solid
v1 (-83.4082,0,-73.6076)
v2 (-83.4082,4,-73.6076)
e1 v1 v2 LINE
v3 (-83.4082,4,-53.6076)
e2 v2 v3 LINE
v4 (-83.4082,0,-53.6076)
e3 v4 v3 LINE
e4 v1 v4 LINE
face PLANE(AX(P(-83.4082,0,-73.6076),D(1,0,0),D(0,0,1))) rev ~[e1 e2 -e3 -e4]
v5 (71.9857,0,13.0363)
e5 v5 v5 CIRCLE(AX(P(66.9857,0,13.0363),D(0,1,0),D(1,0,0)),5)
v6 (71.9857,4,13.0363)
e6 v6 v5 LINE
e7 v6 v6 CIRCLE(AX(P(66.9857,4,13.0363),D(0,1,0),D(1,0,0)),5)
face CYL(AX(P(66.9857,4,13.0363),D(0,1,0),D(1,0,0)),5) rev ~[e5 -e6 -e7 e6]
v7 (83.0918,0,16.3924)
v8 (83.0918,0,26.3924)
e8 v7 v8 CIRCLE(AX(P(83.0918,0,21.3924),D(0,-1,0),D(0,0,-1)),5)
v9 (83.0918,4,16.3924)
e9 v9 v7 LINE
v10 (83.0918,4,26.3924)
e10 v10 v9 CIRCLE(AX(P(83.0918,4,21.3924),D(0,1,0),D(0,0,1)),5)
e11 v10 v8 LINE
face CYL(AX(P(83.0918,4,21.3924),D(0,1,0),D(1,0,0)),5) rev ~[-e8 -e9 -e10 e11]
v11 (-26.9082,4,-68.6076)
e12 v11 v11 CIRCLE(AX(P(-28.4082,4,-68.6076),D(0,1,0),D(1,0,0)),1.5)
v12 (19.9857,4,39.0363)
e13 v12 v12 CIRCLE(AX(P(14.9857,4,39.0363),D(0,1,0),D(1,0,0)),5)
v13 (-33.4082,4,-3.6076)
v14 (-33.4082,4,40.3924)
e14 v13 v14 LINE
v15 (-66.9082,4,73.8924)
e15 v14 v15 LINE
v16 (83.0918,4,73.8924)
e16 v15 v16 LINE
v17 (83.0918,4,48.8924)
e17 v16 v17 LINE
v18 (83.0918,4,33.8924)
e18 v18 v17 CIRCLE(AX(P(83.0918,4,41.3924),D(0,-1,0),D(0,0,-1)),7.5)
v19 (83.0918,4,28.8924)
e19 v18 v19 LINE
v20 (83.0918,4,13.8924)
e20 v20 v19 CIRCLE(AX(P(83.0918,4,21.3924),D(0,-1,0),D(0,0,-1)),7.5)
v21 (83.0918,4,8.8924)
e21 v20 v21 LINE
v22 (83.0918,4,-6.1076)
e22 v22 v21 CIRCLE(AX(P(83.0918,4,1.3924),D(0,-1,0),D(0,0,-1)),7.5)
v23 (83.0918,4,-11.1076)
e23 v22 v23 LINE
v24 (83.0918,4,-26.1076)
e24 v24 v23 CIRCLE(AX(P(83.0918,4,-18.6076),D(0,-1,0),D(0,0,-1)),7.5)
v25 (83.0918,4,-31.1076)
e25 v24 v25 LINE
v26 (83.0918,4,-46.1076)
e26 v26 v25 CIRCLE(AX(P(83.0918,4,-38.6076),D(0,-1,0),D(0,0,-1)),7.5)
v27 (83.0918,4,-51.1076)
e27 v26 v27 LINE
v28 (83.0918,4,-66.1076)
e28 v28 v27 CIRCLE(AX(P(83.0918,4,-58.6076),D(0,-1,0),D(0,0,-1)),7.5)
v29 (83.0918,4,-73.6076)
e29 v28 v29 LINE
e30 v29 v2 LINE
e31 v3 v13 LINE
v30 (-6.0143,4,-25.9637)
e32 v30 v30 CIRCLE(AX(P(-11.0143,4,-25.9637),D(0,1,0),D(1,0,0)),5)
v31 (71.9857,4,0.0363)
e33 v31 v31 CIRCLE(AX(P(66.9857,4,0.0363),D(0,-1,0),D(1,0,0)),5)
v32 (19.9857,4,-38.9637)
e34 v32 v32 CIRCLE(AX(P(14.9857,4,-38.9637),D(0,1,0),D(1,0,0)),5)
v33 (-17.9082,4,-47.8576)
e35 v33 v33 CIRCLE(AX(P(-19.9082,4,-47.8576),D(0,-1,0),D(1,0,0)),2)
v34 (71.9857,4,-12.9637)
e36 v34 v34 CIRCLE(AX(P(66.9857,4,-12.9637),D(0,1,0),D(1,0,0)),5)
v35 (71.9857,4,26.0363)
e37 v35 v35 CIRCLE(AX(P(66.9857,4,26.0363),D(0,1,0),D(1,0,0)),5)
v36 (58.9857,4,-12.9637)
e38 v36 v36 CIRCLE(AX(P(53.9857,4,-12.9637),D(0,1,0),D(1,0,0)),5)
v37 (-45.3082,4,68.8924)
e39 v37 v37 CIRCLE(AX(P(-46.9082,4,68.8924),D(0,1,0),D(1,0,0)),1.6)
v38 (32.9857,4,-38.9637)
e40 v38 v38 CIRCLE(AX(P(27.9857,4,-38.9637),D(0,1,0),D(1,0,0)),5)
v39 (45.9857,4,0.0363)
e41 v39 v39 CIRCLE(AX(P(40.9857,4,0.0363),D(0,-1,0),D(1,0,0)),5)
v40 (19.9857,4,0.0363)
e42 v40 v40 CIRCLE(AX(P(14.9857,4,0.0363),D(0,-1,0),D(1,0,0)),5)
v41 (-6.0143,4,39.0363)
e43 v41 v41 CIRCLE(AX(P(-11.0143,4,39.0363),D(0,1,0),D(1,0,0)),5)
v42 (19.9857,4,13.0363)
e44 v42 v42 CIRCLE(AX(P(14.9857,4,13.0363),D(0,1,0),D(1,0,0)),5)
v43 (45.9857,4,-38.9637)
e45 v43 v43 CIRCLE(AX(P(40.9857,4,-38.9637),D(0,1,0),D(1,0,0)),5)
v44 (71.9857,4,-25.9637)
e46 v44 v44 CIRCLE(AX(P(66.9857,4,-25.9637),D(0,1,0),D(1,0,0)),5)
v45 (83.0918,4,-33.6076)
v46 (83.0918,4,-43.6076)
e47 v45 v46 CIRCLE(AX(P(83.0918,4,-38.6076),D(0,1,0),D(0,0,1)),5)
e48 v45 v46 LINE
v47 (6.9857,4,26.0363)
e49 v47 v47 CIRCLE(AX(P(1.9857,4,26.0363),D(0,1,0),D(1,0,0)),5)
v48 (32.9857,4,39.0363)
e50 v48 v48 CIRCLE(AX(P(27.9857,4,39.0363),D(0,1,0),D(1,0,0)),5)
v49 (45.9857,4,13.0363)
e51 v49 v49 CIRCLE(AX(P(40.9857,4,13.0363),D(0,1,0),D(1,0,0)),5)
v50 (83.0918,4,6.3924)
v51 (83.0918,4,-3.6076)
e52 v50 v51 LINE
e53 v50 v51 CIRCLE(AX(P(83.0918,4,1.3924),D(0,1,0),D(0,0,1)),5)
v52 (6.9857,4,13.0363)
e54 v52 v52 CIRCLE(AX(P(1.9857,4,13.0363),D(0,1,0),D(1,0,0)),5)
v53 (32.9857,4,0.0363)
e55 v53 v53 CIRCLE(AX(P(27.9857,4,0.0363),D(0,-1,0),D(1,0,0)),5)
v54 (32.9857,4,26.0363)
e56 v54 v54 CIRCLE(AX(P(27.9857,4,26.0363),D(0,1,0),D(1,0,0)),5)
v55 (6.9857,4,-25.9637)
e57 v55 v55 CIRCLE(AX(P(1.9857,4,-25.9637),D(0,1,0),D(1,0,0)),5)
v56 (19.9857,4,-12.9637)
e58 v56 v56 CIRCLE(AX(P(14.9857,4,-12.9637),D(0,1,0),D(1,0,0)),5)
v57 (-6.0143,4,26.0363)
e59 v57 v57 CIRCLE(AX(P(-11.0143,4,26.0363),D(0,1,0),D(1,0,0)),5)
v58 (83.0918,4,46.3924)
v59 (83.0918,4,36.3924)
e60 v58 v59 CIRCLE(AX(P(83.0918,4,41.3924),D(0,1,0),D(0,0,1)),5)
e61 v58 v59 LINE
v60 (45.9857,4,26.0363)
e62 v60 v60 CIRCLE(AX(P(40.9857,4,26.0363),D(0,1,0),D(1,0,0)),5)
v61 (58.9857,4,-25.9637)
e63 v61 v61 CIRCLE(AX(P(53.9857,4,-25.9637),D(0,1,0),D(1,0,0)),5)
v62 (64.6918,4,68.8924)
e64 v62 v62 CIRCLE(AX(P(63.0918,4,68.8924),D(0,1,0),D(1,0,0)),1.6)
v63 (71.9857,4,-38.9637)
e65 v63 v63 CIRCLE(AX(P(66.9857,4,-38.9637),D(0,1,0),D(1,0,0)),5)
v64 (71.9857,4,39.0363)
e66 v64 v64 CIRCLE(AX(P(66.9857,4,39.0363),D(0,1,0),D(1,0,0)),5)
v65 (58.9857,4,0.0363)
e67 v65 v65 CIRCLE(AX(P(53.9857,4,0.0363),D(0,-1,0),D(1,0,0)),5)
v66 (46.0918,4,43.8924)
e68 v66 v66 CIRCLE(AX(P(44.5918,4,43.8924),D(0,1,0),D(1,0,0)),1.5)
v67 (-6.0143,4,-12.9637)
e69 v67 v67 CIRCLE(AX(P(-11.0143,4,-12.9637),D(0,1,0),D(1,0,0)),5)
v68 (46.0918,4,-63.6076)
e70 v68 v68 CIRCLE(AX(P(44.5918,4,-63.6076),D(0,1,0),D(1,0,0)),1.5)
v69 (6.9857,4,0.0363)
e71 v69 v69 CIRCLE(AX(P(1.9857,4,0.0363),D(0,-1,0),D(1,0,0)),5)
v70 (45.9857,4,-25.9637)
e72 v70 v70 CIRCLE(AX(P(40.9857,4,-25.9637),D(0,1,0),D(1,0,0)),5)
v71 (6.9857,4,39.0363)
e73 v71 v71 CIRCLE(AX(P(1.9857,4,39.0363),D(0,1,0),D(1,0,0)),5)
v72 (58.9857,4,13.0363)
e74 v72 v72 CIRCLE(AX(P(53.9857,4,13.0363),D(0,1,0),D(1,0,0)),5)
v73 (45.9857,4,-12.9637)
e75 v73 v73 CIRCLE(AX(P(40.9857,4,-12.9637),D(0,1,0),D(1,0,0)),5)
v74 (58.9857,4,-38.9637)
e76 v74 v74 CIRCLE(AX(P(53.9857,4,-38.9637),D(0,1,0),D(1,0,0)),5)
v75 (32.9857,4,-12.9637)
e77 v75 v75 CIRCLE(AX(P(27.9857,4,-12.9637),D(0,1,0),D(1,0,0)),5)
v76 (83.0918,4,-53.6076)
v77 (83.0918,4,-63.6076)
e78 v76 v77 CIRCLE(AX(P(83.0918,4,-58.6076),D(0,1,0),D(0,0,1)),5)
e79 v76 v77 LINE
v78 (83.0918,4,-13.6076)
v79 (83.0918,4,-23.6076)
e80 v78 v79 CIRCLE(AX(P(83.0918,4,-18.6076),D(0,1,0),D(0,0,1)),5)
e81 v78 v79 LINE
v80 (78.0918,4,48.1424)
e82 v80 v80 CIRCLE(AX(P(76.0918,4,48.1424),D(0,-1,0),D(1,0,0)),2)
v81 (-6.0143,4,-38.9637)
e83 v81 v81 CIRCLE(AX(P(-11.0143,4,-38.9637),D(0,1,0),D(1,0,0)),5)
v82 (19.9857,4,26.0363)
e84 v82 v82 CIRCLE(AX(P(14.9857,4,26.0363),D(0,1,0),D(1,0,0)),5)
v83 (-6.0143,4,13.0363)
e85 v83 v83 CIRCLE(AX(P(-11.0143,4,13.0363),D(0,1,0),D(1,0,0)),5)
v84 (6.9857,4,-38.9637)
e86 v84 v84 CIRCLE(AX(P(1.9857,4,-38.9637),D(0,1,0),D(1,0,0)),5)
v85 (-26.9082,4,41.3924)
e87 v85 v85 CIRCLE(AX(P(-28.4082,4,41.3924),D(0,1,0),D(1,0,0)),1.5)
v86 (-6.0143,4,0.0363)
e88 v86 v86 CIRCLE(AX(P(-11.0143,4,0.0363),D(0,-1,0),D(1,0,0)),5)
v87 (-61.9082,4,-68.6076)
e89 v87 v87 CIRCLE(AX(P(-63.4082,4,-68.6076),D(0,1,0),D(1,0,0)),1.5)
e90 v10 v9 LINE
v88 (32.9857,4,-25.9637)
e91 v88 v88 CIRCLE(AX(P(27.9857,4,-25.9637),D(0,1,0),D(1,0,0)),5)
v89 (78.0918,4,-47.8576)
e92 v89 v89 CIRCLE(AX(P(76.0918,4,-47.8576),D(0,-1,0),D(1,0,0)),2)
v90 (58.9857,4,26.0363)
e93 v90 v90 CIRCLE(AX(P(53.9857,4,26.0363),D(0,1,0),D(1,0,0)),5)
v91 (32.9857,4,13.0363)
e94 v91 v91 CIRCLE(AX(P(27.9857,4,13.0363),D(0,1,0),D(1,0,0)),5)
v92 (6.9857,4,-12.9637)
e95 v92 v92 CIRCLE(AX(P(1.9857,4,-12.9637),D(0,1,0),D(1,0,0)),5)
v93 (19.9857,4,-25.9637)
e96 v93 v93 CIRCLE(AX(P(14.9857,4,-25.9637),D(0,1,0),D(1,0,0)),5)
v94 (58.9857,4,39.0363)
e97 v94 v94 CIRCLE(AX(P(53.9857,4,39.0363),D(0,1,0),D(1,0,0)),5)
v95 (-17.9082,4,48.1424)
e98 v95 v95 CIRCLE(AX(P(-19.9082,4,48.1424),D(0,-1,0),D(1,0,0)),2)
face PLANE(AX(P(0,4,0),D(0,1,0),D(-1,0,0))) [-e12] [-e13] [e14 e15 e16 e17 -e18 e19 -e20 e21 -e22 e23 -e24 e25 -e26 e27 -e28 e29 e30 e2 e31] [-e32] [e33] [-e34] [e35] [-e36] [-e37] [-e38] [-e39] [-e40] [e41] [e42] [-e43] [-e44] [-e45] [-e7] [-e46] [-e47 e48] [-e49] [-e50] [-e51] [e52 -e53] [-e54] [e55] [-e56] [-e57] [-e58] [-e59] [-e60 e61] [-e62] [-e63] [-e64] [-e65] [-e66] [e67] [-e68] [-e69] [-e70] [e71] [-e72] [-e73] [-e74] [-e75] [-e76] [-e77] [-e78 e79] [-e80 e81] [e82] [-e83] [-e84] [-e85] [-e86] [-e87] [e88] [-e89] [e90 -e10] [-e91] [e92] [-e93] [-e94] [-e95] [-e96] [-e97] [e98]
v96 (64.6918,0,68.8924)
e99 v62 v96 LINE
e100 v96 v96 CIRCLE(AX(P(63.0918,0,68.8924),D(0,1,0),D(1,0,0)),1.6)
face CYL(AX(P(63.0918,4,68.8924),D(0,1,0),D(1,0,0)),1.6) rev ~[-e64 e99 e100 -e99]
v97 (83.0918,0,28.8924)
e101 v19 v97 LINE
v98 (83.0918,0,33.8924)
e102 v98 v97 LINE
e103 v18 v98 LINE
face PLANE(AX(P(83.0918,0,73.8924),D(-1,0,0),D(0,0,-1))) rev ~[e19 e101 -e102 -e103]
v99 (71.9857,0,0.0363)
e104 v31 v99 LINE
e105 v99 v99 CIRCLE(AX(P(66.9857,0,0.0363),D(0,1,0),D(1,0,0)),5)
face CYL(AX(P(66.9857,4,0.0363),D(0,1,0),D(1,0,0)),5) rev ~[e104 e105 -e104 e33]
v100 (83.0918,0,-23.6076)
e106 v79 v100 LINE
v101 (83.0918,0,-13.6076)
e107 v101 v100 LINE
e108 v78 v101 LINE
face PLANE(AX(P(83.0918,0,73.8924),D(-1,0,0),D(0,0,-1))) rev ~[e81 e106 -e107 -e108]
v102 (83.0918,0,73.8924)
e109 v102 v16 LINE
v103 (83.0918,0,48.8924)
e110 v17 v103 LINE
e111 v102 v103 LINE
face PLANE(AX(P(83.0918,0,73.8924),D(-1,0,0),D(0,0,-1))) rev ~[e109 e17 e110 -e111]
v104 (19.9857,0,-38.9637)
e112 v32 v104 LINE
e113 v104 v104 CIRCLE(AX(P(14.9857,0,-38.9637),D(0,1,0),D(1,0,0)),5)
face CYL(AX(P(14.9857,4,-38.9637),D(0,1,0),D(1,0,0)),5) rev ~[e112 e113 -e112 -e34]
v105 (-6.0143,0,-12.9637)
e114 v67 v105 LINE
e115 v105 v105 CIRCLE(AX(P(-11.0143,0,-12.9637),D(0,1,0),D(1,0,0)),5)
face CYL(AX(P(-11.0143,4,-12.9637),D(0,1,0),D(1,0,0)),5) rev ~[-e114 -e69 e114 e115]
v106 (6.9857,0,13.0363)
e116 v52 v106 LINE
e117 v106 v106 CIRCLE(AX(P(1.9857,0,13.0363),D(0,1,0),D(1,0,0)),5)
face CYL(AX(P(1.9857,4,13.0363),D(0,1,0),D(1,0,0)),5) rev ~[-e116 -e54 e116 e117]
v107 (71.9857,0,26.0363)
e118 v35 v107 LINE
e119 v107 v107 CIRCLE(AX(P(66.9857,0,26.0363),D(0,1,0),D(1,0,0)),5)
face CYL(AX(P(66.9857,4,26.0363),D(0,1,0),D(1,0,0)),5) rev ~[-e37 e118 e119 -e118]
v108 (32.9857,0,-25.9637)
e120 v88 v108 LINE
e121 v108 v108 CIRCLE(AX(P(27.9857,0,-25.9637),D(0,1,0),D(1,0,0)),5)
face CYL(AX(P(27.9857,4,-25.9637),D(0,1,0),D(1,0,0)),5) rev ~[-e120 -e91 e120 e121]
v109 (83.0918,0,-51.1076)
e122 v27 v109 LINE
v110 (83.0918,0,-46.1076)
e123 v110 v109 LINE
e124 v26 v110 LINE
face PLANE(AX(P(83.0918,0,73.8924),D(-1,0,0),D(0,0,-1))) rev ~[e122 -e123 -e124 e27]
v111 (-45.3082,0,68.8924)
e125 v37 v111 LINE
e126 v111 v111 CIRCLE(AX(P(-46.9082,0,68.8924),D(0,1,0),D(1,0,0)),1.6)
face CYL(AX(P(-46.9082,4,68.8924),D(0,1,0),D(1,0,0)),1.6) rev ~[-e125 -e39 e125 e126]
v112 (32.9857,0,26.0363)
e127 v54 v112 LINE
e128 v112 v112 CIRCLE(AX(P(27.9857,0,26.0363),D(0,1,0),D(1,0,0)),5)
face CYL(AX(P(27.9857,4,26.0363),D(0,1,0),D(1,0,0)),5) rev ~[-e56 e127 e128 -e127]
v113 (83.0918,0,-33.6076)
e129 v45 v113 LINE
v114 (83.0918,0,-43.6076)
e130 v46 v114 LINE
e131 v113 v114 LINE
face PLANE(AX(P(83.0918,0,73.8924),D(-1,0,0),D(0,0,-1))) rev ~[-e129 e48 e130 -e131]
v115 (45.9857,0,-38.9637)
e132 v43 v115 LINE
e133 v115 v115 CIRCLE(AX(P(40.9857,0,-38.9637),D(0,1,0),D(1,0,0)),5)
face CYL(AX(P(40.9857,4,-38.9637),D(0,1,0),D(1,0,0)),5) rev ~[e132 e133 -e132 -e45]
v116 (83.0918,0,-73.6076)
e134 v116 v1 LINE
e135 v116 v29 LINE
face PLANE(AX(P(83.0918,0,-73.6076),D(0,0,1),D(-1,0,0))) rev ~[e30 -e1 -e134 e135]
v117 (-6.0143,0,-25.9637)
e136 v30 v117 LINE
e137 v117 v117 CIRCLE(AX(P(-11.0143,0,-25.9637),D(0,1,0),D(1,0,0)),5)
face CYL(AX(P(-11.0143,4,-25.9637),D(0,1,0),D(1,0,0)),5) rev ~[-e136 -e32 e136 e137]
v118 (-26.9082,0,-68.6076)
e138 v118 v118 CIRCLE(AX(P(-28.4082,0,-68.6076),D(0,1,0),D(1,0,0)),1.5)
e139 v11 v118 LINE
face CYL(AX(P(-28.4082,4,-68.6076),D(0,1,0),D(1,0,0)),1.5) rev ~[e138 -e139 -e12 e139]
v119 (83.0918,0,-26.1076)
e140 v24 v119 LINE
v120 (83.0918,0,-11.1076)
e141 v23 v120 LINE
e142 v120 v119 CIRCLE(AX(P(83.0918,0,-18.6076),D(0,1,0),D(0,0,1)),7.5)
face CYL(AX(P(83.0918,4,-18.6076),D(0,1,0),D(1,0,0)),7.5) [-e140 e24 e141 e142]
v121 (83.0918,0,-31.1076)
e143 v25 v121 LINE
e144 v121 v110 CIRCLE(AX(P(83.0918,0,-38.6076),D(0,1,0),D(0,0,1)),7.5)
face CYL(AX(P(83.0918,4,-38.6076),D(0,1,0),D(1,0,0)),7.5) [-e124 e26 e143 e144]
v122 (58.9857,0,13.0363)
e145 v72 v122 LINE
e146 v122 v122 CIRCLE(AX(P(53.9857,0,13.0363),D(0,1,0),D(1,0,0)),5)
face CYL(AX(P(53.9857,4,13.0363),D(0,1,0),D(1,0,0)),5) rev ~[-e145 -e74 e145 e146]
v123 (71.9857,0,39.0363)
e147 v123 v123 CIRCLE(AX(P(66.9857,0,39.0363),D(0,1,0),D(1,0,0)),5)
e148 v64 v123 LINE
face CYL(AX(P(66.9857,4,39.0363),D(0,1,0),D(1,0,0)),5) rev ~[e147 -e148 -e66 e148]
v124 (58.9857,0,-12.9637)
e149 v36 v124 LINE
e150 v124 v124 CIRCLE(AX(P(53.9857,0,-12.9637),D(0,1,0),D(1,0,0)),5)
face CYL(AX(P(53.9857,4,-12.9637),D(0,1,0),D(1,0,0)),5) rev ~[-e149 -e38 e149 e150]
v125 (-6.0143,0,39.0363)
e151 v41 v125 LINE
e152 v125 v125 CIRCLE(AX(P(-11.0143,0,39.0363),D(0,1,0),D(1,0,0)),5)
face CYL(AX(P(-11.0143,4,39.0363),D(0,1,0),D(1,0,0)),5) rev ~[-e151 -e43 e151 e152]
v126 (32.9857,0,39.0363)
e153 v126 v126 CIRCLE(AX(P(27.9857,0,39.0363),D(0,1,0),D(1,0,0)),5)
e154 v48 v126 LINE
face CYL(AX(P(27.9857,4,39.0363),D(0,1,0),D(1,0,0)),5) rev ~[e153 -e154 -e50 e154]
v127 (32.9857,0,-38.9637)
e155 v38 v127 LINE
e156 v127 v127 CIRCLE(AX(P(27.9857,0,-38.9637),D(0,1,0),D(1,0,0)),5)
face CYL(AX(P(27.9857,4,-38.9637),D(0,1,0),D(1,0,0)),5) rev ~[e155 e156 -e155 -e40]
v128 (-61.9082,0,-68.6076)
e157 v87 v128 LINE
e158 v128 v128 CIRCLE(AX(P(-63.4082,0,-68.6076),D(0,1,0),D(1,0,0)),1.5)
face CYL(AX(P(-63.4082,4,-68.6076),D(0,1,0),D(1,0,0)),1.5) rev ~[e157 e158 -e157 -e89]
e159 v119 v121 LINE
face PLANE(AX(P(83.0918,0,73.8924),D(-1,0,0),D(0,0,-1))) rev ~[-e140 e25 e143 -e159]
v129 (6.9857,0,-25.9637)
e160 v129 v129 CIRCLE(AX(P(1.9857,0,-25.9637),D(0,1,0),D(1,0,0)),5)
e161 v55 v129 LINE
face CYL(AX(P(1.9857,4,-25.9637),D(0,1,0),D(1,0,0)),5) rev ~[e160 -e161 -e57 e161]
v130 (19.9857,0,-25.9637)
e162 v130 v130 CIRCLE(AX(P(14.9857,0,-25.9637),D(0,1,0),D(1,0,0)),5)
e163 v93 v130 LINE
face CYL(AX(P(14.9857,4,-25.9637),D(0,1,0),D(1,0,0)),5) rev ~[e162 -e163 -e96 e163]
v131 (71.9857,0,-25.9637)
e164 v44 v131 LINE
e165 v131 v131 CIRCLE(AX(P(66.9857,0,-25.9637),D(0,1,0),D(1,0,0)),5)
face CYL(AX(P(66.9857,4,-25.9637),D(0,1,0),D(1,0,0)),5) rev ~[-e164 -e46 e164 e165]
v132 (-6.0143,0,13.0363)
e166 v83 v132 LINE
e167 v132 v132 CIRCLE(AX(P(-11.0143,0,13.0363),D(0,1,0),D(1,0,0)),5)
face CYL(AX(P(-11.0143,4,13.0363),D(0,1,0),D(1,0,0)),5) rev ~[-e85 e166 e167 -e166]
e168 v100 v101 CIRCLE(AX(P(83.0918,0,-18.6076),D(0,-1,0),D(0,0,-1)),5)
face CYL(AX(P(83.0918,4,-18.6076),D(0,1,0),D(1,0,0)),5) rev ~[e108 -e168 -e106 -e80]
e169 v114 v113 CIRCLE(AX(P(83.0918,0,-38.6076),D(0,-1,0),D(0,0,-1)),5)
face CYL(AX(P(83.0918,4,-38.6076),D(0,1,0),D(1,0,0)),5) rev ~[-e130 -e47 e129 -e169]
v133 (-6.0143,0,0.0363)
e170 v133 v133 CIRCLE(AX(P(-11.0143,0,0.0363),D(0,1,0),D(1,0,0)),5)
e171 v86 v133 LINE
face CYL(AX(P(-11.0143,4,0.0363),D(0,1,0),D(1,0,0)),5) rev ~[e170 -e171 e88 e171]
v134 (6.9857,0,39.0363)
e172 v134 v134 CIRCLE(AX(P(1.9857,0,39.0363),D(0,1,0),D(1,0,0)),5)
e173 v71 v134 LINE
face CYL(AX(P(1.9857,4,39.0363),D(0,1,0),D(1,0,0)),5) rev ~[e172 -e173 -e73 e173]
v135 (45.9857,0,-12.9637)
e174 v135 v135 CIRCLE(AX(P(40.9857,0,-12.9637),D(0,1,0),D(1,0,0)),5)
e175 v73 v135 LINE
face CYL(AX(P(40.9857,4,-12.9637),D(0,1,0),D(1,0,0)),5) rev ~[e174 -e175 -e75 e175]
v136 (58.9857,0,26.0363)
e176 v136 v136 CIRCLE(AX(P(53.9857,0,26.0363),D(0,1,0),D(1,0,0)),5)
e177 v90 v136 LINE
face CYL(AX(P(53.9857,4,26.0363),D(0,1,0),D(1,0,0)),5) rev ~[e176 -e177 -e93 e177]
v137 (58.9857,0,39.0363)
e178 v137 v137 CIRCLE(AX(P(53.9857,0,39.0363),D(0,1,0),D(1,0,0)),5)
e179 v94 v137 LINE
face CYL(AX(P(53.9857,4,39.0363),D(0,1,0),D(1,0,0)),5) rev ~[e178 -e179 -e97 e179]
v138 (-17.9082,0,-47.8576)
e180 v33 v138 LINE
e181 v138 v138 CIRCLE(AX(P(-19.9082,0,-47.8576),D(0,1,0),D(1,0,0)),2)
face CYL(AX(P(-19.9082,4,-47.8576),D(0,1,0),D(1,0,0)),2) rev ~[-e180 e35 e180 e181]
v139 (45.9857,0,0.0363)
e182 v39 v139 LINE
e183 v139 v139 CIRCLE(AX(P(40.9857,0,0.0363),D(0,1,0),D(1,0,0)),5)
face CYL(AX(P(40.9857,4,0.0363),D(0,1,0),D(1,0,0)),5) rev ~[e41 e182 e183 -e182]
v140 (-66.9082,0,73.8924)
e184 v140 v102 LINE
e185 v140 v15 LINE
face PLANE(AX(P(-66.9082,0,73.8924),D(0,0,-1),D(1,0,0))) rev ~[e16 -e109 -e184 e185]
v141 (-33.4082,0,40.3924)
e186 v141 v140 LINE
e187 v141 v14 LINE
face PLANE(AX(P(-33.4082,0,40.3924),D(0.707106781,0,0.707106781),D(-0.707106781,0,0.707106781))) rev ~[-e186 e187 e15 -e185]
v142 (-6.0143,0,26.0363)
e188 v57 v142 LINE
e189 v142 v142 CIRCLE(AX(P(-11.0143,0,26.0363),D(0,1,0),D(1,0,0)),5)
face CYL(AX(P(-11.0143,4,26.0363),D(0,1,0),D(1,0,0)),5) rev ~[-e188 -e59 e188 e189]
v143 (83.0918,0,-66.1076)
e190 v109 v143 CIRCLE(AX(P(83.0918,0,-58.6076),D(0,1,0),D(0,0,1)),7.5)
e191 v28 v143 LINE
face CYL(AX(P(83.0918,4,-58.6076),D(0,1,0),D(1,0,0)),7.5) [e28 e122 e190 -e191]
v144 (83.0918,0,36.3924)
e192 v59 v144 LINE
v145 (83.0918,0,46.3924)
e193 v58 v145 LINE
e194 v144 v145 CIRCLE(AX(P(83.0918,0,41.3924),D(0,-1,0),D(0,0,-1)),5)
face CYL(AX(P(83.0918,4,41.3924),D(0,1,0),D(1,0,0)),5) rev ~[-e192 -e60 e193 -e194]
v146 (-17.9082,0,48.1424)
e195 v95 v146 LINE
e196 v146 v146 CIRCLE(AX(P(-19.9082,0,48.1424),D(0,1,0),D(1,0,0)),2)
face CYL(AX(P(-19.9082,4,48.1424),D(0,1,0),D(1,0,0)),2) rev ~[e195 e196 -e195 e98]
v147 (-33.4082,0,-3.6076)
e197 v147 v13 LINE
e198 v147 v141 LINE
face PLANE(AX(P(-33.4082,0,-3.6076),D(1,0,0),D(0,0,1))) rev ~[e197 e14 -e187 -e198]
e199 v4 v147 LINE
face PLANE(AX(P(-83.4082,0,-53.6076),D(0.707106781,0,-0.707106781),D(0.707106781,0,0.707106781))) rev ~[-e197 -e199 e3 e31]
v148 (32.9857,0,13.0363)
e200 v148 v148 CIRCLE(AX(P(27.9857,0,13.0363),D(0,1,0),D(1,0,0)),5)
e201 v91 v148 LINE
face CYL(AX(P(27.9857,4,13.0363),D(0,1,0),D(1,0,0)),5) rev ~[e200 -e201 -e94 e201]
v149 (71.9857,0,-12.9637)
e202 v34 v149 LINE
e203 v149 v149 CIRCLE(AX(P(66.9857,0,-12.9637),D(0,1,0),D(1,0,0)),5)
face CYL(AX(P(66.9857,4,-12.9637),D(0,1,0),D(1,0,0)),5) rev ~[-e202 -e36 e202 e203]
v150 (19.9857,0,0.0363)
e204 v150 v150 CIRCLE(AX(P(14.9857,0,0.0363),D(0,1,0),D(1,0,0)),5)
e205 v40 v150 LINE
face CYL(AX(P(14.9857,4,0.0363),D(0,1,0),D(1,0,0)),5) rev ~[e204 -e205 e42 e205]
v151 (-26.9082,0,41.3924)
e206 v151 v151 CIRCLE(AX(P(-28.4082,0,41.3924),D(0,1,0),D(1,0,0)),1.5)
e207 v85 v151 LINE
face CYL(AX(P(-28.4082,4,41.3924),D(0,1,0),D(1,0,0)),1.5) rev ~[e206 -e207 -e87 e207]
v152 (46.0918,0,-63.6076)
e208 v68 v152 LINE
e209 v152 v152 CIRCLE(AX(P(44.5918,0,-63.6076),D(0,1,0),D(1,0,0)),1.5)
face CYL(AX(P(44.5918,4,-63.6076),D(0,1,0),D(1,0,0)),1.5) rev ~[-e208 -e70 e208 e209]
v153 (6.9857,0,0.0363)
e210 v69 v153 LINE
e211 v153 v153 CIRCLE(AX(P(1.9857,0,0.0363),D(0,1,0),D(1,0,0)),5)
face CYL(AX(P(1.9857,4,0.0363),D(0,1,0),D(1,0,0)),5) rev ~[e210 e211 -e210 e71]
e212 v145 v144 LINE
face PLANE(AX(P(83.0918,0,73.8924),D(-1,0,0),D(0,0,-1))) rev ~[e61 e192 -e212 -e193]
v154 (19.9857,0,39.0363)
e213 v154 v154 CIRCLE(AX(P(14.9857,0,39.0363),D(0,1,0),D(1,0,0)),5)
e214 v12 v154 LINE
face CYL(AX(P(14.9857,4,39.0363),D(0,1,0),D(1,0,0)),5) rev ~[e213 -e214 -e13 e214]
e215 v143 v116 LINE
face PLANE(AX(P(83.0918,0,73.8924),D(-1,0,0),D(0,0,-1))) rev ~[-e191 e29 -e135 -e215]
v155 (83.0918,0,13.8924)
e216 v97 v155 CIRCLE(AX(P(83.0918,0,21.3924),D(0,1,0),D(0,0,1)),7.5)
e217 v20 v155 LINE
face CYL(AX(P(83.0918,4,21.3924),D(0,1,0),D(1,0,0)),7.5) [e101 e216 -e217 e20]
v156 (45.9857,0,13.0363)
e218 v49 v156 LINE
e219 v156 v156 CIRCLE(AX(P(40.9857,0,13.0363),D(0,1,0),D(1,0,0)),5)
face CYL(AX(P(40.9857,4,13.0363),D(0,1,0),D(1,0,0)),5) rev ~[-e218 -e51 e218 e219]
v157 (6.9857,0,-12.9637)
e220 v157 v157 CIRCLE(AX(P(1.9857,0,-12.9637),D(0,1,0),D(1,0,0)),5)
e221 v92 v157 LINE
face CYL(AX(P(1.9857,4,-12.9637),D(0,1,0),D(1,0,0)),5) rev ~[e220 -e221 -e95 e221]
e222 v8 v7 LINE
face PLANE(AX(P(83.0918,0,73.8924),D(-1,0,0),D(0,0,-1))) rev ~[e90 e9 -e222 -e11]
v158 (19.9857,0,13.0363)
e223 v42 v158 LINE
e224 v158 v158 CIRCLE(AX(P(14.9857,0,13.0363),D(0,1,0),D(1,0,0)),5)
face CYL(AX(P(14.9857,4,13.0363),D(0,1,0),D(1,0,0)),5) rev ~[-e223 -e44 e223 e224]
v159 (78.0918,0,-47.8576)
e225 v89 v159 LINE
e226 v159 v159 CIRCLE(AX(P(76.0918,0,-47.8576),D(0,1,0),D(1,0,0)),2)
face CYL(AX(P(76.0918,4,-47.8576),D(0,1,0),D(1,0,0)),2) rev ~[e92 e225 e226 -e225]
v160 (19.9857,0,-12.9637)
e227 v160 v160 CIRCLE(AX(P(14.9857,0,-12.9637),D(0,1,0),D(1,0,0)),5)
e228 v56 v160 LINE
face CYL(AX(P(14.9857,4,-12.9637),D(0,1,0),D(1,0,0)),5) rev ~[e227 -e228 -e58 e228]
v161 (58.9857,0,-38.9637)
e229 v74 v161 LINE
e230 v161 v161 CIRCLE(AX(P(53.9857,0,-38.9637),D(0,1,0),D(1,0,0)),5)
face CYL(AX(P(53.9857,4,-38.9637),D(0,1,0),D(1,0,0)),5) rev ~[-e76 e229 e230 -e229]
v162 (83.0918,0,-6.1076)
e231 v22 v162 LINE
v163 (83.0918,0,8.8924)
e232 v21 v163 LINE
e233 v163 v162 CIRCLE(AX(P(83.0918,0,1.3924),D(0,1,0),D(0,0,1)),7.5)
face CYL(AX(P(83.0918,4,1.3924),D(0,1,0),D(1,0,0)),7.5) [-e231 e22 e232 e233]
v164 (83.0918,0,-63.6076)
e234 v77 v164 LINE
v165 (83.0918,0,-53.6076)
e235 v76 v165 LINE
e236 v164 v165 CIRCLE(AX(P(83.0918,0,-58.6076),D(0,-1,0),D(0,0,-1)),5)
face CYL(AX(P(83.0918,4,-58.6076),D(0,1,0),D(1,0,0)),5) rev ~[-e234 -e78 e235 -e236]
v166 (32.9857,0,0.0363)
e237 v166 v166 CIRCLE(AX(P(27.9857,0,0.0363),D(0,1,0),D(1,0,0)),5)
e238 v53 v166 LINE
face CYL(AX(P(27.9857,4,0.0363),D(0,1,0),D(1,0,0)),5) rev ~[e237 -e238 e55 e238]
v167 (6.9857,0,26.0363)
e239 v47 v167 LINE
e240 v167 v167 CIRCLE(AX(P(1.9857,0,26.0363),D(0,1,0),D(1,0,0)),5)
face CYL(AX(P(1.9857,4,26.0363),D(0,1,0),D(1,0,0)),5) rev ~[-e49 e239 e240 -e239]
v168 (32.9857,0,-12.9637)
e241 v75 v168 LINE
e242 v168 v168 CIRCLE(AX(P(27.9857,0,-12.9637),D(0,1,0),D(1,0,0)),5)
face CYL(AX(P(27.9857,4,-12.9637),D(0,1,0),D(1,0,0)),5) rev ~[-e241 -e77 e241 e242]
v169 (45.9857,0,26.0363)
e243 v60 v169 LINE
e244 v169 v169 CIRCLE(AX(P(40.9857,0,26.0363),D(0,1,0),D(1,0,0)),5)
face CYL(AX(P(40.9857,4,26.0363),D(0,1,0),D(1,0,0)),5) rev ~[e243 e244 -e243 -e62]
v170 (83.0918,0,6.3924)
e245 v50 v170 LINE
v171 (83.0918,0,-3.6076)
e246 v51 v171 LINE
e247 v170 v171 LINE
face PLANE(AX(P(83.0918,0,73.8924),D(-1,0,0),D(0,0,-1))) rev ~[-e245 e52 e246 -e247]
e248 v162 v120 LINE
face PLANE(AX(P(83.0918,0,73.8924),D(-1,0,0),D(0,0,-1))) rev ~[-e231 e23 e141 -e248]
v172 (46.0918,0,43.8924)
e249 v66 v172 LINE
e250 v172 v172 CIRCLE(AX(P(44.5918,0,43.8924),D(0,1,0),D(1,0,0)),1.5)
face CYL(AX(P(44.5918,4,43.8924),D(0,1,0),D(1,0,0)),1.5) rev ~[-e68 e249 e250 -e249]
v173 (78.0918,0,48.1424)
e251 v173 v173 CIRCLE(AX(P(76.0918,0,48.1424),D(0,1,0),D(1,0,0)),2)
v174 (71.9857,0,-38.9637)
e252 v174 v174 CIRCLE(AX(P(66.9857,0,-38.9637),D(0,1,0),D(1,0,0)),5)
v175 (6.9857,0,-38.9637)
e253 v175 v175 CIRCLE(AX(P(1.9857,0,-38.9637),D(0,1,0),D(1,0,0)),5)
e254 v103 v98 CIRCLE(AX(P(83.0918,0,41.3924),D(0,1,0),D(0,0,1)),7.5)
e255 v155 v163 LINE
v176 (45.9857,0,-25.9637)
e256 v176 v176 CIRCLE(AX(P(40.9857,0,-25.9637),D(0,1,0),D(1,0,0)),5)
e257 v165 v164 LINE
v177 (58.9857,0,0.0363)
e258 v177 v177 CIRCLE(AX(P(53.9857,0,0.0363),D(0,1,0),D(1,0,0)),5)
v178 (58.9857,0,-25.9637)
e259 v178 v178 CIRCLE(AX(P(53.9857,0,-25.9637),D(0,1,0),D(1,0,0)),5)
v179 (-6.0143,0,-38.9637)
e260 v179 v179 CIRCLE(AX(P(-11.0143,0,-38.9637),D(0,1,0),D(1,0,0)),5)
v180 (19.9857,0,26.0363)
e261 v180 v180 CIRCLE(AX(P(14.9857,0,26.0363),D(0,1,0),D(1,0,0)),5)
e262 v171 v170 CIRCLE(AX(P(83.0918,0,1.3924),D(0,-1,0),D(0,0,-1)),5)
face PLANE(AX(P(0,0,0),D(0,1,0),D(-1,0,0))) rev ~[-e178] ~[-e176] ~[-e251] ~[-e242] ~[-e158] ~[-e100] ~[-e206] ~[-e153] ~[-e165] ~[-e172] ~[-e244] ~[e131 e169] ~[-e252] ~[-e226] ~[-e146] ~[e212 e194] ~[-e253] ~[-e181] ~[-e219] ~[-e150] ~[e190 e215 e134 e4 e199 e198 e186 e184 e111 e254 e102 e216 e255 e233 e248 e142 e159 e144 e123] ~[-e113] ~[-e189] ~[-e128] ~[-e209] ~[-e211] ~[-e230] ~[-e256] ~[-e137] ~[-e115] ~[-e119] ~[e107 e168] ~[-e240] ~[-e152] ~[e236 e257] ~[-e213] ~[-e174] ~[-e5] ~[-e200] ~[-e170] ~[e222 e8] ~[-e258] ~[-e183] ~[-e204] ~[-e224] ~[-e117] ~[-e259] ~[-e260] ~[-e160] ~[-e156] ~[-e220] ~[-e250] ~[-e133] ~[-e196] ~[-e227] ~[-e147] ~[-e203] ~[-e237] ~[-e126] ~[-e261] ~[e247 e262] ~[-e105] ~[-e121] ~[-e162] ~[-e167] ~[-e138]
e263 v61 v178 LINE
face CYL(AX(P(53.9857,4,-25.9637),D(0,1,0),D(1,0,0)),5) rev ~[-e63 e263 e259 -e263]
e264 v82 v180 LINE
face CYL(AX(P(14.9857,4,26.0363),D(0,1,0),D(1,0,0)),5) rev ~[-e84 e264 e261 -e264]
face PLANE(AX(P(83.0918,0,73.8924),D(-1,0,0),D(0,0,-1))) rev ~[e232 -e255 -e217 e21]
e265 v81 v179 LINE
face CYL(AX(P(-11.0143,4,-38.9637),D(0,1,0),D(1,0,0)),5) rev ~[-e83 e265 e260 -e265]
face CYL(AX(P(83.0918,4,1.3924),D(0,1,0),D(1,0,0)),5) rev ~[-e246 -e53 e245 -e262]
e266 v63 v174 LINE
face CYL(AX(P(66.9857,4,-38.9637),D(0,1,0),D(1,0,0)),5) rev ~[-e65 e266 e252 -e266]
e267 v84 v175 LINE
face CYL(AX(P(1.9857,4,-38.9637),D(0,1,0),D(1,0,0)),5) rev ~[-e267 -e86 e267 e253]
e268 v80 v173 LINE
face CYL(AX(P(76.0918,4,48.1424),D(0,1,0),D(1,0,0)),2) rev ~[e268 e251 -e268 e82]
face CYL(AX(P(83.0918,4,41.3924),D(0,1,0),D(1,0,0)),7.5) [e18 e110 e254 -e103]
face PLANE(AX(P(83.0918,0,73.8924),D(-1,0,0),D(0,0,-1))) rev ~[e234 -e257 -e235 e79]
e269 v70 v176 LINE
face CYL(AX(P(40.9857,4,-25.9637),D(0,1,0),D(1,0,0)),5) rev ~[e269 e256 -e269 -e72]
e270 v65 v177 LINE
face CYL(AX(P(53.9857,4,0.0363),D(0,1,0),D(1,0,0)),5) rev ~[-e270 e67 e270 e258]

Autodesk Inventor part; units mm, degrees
ref_plane "YZ Plane" through (0, 0, 0) normal (1, 0, 0) x (0, 1, 0)
ref_plane "XZ Plane" through (0, 0, 0) normal (0, 1, 0) x (-1, 0, 0)
ref_plane "XY Plane" through (0, 0, 0) normal (0, 0, 1) x (1, 0, 0)
sketch "Sketch1" plane through (0, 0, 0) normal (0, 1, 0) x (-1, 0, 0)
  line L0 (-83.0918, 73.8924) -> (-83.0918, -73.6076)
  line L1 (-83.0918, 73.8924) -> (-83.0918, -73.6076)
  line L2 (66.9082, 73.8924) -> (-83.0918, 73.8924)
  line L3 (-83.0918, 73.8924) -> (-83.0918, -73.6076)
  line L4 (-83.0918, -73.6076) -> (83.4082, -73.6076)
  line L5 (83.4082, -73.6076) -> (83.4082, -53.6076)
  line L6 (83.4082, -53.6076) -> (33.4082, -3.6076)
  line L7 (33.4082, -3.6076) -> (33.4082, 40.3924)
  line L8 (33.4082, 40.3924) -> (66.9082, 73.8924)
  point P0 (0, 0)
  point P1 (-8.0918, 73.8924)
extrude "Extrusion1" add sketch "Sketch1" along normal blind 4
sketch "Sketch2" plane through (0, 4, 0) normal (0, 1, 0) x (1, 0, 0)
  line L0 (83.0918, -73.8924) -> (83.0918, 73.6076) projected
  line L1 (-66.9082, -73.8924) -> (83.0918, -73.8924) projected
  line L2 (83.0918, -73.8924) -> (-66.9082, -73.8924)
  circle A0 centre (-46.9082, -68.8924) radius 1.6
  circle A1 centre (63.0918, -68.8924) radius 1.6
  point P0 (0, 0)
  dimension "d2" = 20
  dimension "d3" = 5
  dimension "d4" = 20
  dimension "d5" = 3.2
  dimension "d6" = 3.2
extrude "Extrusion2" cut sketch "Sketch2" against normal blind 10
sketch "Sketch3" plane through (0, 4, 0) normal (0, 1, 0) x (1, 0, 0)
  line L0 (83.0918, 73.6076) -> (-83.4082, 73.6076) projected
  line L1 (-83.4082, 73.6076) -> (-83.4082, 53.6076) projected
  circle A0 centre (-63.4082, 68.6076) radius 1.5
  circle A1 centre (-28.4082, 68.6076) radius 1.5
  circle A2 centre (-28.4082, -41.3924) radius 1.5
  point P0 (0, 0)
  dimension "d9" = 5
  dimension "d10" = 20
  dimension "d11" = 3
  dimension "d12" = 35
  dimension "d13" = 110
  dimension "d14" = 3
  dimension "d15" = 3
extrude "Extrusion3" cut sketch "Sketch3" against normal blind 10
sketch "Sketch4" plane through (0, 4, 0) normal (0, 1, 0) x (1, 0, 0)
  line L0 (83.0918, -73.8924) -> (83.0918, 73.6076) projected
  line L1 (-66.9082, -73.8924) -> (83.0918, -73.8924) projected
  circle A0 centre (44.5918, 63.6076) radius 1.5
  circle A1 centre (44.5918, -43.8924) radius 1.5
  point P0 (0, 0)
  dimension "d18" = 38.5
  dimension "d19" = 30
  dimension "d20" = 107.5
  dimension "d21" = 3
  dimension "d22" = 3
extrude "Extrusion4" cut sketch "Sketch4" against normal blind 10
sketch "Sketch5" plane through (0, 4, 0) normal (0, 1, 0) x (1, 0, 0)
  line L0 (83.0918, -73.8924) -> (83.0918, 73.6076) projected
  line L1 (83.0918, -0.1424) -> (-26.9082, -0.1424)
  line L2 (-33.4082, 3.6076) -> (-33.4082, -40.3924) projected
  line L3 (83.0918, -55.1424) -> (-26.9082, -55.1424)
  line L4 (-26.9082, -55.1424) -> (-26.9082, 54.8576)
  line L5 (-26.9082, 54.8576) -> (83.0918, 54.8576)
  line L6 (83.0918, 54.8576) -> (83.0918, -55.1424)
  line L7 (83.0918, -55.1424) -> (-26.9082, 54.8576) construction
  line L8 (-26.9082, -55.1424) -> (83.0918, 54.8576) construction
  line L9 (76.0918, -48.1424) -> (-19.9082, -48.1424)
  line L10 (-19.9082, -48.1424) -> (-19.9082, 47.8576)
  line L11 (-19.9082, 47.8576) -> (76.0918, 47.8576)
  line L12 (76.0918, 47.8576) -> (76.0918, -48.1424)
  line L13 (76.0918, -48.1424) -> (-19.9082, 47.8576) construction
  line L14 (-19.9082, -48.1424) -> (76.0918, 47.8576) construction
  circle A0 centre (-19.9082, 47.8576) radius 2
  circle A1 centre (76.0918, 47.8576) radius 2
  circle A2 centre (-19.9082, -48.1424) radius 2
  circle A3 centre (76.0918, -48.1424) radius 2
  circle A4 centre (-11.0143, 38.9637) radius 5
  circle A5 centre (-11.0143, 25.9637) radius 5
  circle A6 centre (-11.0143, 12.9637) radius 5
  circle A7 centre (-11.0143, -0.0363) radius 5
  circle A8 centre (-11.0143, -13.0363) radius 5
  circle A9 centre (-11.0143, -26.0363) radius 5
  circle A10 centre (-11.0143, -39.0363) radius 5
  circle A11 centre (1.9857, 38.9637) radius 5
  circle A12 centre (1.9857, 25.9637) radius 5
  circle A13 centre (1.9857, 12.9637) radius 5
  circle A14 centre (1.9857, -0.0363) radius 5
  circle A15 centre (1.9857, -13.0363) radius 5
  circle A16 centre (1.9857, -26.0363) radius 5
  circle A17 centre (1.9857, -39.0363) radius 5
  circle A18 centre (14.9857, 38.9637) radius 5
  circle A19 centre (14.9857, 25.9637) radius 5
  circle A20 centre (14.9857, 12.9637) radius 5
  circle A21 centre (14.9857, -0.0363) radius 5
  circle A22 centre (14.9857, -13.0363) radius 5
  circle A23 centre (14.9857, -26.0363) radius 5
  circle A24 centre (14.9857, -39.0363) radius 5
  circle A25 centre (27.9857, 38.9637) radius 5
  circle A26 centre (27.9857, 25.9637) radius 5
  circle A27 centre (27.9857, 12.9637) radius 5
  circle A28 centre (27.9857, -0.0363) radius 5
  circle A29 centre (27.9857, -13.0363) radius 5
  circle A30 centre (27.9857, -26.0363) radius 5
  circle A31 centre (27.9857, -39.0363) radius 5
  circle A32 centre (40.9857, 38.9637) radius 5
  circle A33 centre (40.9857, 25.9637) radius 5
  circle A34 centre (40.9857, 12.9637) radius 5
  circle A35 centre (40.9857, -0.0363) radius 5
  circle A36 centre (40.9857, -13.0363) radius 5
  circle A37 centre (40.9857, -26.0363) radius 5
  circle A38 centre (40.9857, -39.0363) radius 5
  circle A39 centre (53.9857, 38.9637) radius 5
  circle A40 centre (53.9857, 25.9637) radius 5
  circle A41 centre (53.9857, 12.9637) radius 5
  circle A42 centre (53.9857, -0.0363) radius 5
  circle A43 centre (53.9857, -13.0363) radius 5
  circle A44 centre (53.9857, -26.0363) radius 5
  circle A45 centre (53.9857, -39.0363) radius 5
  circle A46 centre (66.9857, 38.9637) radius 5
  circle A47 centre (66.9857, 25.9637) radius 5
  circle A48 centre (66.9857, 12.9637) radius 5
  circle A49 centre (66.9857, -0.0363) radius 5
  circle A50 centre (66.9857, -13.0363) radius 5
  circle A51 centre (66.9857, -26.0363) radius 5
  circle A52 centre (66.9857, -39.0363) radius 5
  point P0 (0, 0)
  point P1 (28.0918, -0.1424)
  dimension "d25" = 110
  dimension "d26" = 110
  dimension "d27" = 96
  dimension "d28" = 96
  dimension "d29" = 4
  dimension "d30" = 4
  dimension "d31" = 4
  dimension "d32" = 4
  dimension "d33" = 10
  dimension "d36" = 13
  dimension "d39" = 13
extrude "Extrusion5" cut sketch "Sketch5" against normal blind 10 contours A49 L1 | L1 A49 | A1 L11 L12 | L12 L11 A1 | A3 L9 L12 | L12 L9 A3 | A7 L1 | L1 A7 | A2 L9 L10 | L10 L9 A2 | A0 L11 L10 | L10 L11 A0 | A42 L1 | L1 A42 | A14 L1 | L1 A14 | A35 L1 | L1 A35 | A21 L1 | L1 A21 | A28 L1 | L1 A28 | A4 | A5 | A6 | A8 | A9 | A10 | A11 | A12 | A13 | A15 | A16 | A17 | A18 | A19 | A20 | A22 | A23 | A24 | A25 | A26 | A27 | A29 | A30 | A31 | A32 | A33 | A34 | A36 | A37 | A39 | A40 | A41 | A43 | A44 | A45 | A46 | A47 | A48 | A50 | A51 | A52
sketch "Sketch6" plane through (83.0918, 0, 73.8924) normal (1, 0, 0) x (0, 0, -1)
  point P0 (73.8924, 0)
sketch "Sketch7" plane through (0, 4, 0) normal (0, 1, 0) x (1, 0, 0)
  line L0 (83.0918, -73.8924) -> (83.0918, 73.6076) projected
  line L1 (83.0918, 73.6076) -> (-83.4082, 73.6076) projected
  circle A0 centre (83.0918, 58.6076) radius 5
  circle A1 centre (83.0918, 58.6076) radius 7.5
  circle A2 centre (83.0918, 38.6076) radius 5
  circle A3 centre (83.0918, 38.6076) radius 7.5
  circle A4 centre (83.0918, 18.6076) radius 5
  circle A5 centre (83.0918, 18.6076) radius 7.5
  circle A6 centre (83.0918, -1.3924) radius 5
  circle A7 centre (83.0918, -1.3924) radius 7.5
  circle A8 centre (83.0918, -21.3924) radius 5
  circle A9 centre (83.0918, -21.3924) radius 7.5
  circle A10 centre (83.0918, -41.3924) radius 5
  circle A11 centre (83.0918, -41.3924) radius 7.5
  line L2 (83.0918, 66.1076) -> (83.0918, -48.8924)
  point P0 (0, 0)
  point P1 (83.0918, -33.8924)
  point P2 (83.0918, -36.3924)
  point P3 (83.0918, -46.3924)
  point P4 (83.0918, -13.8924)
  point P5 (83.0918, -16.3924)
  point P6 (83.0918, -26.3924)
  point P7 (83.0918, -28.8924)
  point P8 (83.0918, 6.1076)
  point P9 (83.0918, 3.6076)
  point P10 (83.0918, -6.3924)
  point P11 (83.0918, -8.8924)
  point P12 (83.0918, 26.1076)
  point P13 (83.0918, 23.6076)
  point P14 (83.0918, 13.6076)
  point P15 (83.0918, 11.1076)
  point P16 (83.0918, 46.1076)
  point P17 (83.0918, 43.6076)
  point P18 (83.0918, 33.6076)
  point P19 (83.0918, 31.1076)
  point P20 (83.0918, 63.6076)
  point P21 (83.0918, 53.6076)
  point P22 (83.0918, 51.1076)
  dimension "d46" = 15
  dimension "d44" = 15
  dimension "d45" = 10
  dimension "d49" = 20
extrude "Extrusion6" add sketch "Sketch7" against normal up to surface (4 mm away) contours L0 A10 A11 | L0 A0 A1 | L0 A2 A3 | L0 A4 A5 | L0 A6 A7 | L0 A8 A9 picked at (89.654, -40.4652) picked at (89.654, 57.6804) picked at (89.654, 37.6804) picked at (89.654, 17.6804) picked at (89.654, -2.3196) picked at (89.654, -22.3196)
properties part number "SidePlate_Ebox_3DPrint"
